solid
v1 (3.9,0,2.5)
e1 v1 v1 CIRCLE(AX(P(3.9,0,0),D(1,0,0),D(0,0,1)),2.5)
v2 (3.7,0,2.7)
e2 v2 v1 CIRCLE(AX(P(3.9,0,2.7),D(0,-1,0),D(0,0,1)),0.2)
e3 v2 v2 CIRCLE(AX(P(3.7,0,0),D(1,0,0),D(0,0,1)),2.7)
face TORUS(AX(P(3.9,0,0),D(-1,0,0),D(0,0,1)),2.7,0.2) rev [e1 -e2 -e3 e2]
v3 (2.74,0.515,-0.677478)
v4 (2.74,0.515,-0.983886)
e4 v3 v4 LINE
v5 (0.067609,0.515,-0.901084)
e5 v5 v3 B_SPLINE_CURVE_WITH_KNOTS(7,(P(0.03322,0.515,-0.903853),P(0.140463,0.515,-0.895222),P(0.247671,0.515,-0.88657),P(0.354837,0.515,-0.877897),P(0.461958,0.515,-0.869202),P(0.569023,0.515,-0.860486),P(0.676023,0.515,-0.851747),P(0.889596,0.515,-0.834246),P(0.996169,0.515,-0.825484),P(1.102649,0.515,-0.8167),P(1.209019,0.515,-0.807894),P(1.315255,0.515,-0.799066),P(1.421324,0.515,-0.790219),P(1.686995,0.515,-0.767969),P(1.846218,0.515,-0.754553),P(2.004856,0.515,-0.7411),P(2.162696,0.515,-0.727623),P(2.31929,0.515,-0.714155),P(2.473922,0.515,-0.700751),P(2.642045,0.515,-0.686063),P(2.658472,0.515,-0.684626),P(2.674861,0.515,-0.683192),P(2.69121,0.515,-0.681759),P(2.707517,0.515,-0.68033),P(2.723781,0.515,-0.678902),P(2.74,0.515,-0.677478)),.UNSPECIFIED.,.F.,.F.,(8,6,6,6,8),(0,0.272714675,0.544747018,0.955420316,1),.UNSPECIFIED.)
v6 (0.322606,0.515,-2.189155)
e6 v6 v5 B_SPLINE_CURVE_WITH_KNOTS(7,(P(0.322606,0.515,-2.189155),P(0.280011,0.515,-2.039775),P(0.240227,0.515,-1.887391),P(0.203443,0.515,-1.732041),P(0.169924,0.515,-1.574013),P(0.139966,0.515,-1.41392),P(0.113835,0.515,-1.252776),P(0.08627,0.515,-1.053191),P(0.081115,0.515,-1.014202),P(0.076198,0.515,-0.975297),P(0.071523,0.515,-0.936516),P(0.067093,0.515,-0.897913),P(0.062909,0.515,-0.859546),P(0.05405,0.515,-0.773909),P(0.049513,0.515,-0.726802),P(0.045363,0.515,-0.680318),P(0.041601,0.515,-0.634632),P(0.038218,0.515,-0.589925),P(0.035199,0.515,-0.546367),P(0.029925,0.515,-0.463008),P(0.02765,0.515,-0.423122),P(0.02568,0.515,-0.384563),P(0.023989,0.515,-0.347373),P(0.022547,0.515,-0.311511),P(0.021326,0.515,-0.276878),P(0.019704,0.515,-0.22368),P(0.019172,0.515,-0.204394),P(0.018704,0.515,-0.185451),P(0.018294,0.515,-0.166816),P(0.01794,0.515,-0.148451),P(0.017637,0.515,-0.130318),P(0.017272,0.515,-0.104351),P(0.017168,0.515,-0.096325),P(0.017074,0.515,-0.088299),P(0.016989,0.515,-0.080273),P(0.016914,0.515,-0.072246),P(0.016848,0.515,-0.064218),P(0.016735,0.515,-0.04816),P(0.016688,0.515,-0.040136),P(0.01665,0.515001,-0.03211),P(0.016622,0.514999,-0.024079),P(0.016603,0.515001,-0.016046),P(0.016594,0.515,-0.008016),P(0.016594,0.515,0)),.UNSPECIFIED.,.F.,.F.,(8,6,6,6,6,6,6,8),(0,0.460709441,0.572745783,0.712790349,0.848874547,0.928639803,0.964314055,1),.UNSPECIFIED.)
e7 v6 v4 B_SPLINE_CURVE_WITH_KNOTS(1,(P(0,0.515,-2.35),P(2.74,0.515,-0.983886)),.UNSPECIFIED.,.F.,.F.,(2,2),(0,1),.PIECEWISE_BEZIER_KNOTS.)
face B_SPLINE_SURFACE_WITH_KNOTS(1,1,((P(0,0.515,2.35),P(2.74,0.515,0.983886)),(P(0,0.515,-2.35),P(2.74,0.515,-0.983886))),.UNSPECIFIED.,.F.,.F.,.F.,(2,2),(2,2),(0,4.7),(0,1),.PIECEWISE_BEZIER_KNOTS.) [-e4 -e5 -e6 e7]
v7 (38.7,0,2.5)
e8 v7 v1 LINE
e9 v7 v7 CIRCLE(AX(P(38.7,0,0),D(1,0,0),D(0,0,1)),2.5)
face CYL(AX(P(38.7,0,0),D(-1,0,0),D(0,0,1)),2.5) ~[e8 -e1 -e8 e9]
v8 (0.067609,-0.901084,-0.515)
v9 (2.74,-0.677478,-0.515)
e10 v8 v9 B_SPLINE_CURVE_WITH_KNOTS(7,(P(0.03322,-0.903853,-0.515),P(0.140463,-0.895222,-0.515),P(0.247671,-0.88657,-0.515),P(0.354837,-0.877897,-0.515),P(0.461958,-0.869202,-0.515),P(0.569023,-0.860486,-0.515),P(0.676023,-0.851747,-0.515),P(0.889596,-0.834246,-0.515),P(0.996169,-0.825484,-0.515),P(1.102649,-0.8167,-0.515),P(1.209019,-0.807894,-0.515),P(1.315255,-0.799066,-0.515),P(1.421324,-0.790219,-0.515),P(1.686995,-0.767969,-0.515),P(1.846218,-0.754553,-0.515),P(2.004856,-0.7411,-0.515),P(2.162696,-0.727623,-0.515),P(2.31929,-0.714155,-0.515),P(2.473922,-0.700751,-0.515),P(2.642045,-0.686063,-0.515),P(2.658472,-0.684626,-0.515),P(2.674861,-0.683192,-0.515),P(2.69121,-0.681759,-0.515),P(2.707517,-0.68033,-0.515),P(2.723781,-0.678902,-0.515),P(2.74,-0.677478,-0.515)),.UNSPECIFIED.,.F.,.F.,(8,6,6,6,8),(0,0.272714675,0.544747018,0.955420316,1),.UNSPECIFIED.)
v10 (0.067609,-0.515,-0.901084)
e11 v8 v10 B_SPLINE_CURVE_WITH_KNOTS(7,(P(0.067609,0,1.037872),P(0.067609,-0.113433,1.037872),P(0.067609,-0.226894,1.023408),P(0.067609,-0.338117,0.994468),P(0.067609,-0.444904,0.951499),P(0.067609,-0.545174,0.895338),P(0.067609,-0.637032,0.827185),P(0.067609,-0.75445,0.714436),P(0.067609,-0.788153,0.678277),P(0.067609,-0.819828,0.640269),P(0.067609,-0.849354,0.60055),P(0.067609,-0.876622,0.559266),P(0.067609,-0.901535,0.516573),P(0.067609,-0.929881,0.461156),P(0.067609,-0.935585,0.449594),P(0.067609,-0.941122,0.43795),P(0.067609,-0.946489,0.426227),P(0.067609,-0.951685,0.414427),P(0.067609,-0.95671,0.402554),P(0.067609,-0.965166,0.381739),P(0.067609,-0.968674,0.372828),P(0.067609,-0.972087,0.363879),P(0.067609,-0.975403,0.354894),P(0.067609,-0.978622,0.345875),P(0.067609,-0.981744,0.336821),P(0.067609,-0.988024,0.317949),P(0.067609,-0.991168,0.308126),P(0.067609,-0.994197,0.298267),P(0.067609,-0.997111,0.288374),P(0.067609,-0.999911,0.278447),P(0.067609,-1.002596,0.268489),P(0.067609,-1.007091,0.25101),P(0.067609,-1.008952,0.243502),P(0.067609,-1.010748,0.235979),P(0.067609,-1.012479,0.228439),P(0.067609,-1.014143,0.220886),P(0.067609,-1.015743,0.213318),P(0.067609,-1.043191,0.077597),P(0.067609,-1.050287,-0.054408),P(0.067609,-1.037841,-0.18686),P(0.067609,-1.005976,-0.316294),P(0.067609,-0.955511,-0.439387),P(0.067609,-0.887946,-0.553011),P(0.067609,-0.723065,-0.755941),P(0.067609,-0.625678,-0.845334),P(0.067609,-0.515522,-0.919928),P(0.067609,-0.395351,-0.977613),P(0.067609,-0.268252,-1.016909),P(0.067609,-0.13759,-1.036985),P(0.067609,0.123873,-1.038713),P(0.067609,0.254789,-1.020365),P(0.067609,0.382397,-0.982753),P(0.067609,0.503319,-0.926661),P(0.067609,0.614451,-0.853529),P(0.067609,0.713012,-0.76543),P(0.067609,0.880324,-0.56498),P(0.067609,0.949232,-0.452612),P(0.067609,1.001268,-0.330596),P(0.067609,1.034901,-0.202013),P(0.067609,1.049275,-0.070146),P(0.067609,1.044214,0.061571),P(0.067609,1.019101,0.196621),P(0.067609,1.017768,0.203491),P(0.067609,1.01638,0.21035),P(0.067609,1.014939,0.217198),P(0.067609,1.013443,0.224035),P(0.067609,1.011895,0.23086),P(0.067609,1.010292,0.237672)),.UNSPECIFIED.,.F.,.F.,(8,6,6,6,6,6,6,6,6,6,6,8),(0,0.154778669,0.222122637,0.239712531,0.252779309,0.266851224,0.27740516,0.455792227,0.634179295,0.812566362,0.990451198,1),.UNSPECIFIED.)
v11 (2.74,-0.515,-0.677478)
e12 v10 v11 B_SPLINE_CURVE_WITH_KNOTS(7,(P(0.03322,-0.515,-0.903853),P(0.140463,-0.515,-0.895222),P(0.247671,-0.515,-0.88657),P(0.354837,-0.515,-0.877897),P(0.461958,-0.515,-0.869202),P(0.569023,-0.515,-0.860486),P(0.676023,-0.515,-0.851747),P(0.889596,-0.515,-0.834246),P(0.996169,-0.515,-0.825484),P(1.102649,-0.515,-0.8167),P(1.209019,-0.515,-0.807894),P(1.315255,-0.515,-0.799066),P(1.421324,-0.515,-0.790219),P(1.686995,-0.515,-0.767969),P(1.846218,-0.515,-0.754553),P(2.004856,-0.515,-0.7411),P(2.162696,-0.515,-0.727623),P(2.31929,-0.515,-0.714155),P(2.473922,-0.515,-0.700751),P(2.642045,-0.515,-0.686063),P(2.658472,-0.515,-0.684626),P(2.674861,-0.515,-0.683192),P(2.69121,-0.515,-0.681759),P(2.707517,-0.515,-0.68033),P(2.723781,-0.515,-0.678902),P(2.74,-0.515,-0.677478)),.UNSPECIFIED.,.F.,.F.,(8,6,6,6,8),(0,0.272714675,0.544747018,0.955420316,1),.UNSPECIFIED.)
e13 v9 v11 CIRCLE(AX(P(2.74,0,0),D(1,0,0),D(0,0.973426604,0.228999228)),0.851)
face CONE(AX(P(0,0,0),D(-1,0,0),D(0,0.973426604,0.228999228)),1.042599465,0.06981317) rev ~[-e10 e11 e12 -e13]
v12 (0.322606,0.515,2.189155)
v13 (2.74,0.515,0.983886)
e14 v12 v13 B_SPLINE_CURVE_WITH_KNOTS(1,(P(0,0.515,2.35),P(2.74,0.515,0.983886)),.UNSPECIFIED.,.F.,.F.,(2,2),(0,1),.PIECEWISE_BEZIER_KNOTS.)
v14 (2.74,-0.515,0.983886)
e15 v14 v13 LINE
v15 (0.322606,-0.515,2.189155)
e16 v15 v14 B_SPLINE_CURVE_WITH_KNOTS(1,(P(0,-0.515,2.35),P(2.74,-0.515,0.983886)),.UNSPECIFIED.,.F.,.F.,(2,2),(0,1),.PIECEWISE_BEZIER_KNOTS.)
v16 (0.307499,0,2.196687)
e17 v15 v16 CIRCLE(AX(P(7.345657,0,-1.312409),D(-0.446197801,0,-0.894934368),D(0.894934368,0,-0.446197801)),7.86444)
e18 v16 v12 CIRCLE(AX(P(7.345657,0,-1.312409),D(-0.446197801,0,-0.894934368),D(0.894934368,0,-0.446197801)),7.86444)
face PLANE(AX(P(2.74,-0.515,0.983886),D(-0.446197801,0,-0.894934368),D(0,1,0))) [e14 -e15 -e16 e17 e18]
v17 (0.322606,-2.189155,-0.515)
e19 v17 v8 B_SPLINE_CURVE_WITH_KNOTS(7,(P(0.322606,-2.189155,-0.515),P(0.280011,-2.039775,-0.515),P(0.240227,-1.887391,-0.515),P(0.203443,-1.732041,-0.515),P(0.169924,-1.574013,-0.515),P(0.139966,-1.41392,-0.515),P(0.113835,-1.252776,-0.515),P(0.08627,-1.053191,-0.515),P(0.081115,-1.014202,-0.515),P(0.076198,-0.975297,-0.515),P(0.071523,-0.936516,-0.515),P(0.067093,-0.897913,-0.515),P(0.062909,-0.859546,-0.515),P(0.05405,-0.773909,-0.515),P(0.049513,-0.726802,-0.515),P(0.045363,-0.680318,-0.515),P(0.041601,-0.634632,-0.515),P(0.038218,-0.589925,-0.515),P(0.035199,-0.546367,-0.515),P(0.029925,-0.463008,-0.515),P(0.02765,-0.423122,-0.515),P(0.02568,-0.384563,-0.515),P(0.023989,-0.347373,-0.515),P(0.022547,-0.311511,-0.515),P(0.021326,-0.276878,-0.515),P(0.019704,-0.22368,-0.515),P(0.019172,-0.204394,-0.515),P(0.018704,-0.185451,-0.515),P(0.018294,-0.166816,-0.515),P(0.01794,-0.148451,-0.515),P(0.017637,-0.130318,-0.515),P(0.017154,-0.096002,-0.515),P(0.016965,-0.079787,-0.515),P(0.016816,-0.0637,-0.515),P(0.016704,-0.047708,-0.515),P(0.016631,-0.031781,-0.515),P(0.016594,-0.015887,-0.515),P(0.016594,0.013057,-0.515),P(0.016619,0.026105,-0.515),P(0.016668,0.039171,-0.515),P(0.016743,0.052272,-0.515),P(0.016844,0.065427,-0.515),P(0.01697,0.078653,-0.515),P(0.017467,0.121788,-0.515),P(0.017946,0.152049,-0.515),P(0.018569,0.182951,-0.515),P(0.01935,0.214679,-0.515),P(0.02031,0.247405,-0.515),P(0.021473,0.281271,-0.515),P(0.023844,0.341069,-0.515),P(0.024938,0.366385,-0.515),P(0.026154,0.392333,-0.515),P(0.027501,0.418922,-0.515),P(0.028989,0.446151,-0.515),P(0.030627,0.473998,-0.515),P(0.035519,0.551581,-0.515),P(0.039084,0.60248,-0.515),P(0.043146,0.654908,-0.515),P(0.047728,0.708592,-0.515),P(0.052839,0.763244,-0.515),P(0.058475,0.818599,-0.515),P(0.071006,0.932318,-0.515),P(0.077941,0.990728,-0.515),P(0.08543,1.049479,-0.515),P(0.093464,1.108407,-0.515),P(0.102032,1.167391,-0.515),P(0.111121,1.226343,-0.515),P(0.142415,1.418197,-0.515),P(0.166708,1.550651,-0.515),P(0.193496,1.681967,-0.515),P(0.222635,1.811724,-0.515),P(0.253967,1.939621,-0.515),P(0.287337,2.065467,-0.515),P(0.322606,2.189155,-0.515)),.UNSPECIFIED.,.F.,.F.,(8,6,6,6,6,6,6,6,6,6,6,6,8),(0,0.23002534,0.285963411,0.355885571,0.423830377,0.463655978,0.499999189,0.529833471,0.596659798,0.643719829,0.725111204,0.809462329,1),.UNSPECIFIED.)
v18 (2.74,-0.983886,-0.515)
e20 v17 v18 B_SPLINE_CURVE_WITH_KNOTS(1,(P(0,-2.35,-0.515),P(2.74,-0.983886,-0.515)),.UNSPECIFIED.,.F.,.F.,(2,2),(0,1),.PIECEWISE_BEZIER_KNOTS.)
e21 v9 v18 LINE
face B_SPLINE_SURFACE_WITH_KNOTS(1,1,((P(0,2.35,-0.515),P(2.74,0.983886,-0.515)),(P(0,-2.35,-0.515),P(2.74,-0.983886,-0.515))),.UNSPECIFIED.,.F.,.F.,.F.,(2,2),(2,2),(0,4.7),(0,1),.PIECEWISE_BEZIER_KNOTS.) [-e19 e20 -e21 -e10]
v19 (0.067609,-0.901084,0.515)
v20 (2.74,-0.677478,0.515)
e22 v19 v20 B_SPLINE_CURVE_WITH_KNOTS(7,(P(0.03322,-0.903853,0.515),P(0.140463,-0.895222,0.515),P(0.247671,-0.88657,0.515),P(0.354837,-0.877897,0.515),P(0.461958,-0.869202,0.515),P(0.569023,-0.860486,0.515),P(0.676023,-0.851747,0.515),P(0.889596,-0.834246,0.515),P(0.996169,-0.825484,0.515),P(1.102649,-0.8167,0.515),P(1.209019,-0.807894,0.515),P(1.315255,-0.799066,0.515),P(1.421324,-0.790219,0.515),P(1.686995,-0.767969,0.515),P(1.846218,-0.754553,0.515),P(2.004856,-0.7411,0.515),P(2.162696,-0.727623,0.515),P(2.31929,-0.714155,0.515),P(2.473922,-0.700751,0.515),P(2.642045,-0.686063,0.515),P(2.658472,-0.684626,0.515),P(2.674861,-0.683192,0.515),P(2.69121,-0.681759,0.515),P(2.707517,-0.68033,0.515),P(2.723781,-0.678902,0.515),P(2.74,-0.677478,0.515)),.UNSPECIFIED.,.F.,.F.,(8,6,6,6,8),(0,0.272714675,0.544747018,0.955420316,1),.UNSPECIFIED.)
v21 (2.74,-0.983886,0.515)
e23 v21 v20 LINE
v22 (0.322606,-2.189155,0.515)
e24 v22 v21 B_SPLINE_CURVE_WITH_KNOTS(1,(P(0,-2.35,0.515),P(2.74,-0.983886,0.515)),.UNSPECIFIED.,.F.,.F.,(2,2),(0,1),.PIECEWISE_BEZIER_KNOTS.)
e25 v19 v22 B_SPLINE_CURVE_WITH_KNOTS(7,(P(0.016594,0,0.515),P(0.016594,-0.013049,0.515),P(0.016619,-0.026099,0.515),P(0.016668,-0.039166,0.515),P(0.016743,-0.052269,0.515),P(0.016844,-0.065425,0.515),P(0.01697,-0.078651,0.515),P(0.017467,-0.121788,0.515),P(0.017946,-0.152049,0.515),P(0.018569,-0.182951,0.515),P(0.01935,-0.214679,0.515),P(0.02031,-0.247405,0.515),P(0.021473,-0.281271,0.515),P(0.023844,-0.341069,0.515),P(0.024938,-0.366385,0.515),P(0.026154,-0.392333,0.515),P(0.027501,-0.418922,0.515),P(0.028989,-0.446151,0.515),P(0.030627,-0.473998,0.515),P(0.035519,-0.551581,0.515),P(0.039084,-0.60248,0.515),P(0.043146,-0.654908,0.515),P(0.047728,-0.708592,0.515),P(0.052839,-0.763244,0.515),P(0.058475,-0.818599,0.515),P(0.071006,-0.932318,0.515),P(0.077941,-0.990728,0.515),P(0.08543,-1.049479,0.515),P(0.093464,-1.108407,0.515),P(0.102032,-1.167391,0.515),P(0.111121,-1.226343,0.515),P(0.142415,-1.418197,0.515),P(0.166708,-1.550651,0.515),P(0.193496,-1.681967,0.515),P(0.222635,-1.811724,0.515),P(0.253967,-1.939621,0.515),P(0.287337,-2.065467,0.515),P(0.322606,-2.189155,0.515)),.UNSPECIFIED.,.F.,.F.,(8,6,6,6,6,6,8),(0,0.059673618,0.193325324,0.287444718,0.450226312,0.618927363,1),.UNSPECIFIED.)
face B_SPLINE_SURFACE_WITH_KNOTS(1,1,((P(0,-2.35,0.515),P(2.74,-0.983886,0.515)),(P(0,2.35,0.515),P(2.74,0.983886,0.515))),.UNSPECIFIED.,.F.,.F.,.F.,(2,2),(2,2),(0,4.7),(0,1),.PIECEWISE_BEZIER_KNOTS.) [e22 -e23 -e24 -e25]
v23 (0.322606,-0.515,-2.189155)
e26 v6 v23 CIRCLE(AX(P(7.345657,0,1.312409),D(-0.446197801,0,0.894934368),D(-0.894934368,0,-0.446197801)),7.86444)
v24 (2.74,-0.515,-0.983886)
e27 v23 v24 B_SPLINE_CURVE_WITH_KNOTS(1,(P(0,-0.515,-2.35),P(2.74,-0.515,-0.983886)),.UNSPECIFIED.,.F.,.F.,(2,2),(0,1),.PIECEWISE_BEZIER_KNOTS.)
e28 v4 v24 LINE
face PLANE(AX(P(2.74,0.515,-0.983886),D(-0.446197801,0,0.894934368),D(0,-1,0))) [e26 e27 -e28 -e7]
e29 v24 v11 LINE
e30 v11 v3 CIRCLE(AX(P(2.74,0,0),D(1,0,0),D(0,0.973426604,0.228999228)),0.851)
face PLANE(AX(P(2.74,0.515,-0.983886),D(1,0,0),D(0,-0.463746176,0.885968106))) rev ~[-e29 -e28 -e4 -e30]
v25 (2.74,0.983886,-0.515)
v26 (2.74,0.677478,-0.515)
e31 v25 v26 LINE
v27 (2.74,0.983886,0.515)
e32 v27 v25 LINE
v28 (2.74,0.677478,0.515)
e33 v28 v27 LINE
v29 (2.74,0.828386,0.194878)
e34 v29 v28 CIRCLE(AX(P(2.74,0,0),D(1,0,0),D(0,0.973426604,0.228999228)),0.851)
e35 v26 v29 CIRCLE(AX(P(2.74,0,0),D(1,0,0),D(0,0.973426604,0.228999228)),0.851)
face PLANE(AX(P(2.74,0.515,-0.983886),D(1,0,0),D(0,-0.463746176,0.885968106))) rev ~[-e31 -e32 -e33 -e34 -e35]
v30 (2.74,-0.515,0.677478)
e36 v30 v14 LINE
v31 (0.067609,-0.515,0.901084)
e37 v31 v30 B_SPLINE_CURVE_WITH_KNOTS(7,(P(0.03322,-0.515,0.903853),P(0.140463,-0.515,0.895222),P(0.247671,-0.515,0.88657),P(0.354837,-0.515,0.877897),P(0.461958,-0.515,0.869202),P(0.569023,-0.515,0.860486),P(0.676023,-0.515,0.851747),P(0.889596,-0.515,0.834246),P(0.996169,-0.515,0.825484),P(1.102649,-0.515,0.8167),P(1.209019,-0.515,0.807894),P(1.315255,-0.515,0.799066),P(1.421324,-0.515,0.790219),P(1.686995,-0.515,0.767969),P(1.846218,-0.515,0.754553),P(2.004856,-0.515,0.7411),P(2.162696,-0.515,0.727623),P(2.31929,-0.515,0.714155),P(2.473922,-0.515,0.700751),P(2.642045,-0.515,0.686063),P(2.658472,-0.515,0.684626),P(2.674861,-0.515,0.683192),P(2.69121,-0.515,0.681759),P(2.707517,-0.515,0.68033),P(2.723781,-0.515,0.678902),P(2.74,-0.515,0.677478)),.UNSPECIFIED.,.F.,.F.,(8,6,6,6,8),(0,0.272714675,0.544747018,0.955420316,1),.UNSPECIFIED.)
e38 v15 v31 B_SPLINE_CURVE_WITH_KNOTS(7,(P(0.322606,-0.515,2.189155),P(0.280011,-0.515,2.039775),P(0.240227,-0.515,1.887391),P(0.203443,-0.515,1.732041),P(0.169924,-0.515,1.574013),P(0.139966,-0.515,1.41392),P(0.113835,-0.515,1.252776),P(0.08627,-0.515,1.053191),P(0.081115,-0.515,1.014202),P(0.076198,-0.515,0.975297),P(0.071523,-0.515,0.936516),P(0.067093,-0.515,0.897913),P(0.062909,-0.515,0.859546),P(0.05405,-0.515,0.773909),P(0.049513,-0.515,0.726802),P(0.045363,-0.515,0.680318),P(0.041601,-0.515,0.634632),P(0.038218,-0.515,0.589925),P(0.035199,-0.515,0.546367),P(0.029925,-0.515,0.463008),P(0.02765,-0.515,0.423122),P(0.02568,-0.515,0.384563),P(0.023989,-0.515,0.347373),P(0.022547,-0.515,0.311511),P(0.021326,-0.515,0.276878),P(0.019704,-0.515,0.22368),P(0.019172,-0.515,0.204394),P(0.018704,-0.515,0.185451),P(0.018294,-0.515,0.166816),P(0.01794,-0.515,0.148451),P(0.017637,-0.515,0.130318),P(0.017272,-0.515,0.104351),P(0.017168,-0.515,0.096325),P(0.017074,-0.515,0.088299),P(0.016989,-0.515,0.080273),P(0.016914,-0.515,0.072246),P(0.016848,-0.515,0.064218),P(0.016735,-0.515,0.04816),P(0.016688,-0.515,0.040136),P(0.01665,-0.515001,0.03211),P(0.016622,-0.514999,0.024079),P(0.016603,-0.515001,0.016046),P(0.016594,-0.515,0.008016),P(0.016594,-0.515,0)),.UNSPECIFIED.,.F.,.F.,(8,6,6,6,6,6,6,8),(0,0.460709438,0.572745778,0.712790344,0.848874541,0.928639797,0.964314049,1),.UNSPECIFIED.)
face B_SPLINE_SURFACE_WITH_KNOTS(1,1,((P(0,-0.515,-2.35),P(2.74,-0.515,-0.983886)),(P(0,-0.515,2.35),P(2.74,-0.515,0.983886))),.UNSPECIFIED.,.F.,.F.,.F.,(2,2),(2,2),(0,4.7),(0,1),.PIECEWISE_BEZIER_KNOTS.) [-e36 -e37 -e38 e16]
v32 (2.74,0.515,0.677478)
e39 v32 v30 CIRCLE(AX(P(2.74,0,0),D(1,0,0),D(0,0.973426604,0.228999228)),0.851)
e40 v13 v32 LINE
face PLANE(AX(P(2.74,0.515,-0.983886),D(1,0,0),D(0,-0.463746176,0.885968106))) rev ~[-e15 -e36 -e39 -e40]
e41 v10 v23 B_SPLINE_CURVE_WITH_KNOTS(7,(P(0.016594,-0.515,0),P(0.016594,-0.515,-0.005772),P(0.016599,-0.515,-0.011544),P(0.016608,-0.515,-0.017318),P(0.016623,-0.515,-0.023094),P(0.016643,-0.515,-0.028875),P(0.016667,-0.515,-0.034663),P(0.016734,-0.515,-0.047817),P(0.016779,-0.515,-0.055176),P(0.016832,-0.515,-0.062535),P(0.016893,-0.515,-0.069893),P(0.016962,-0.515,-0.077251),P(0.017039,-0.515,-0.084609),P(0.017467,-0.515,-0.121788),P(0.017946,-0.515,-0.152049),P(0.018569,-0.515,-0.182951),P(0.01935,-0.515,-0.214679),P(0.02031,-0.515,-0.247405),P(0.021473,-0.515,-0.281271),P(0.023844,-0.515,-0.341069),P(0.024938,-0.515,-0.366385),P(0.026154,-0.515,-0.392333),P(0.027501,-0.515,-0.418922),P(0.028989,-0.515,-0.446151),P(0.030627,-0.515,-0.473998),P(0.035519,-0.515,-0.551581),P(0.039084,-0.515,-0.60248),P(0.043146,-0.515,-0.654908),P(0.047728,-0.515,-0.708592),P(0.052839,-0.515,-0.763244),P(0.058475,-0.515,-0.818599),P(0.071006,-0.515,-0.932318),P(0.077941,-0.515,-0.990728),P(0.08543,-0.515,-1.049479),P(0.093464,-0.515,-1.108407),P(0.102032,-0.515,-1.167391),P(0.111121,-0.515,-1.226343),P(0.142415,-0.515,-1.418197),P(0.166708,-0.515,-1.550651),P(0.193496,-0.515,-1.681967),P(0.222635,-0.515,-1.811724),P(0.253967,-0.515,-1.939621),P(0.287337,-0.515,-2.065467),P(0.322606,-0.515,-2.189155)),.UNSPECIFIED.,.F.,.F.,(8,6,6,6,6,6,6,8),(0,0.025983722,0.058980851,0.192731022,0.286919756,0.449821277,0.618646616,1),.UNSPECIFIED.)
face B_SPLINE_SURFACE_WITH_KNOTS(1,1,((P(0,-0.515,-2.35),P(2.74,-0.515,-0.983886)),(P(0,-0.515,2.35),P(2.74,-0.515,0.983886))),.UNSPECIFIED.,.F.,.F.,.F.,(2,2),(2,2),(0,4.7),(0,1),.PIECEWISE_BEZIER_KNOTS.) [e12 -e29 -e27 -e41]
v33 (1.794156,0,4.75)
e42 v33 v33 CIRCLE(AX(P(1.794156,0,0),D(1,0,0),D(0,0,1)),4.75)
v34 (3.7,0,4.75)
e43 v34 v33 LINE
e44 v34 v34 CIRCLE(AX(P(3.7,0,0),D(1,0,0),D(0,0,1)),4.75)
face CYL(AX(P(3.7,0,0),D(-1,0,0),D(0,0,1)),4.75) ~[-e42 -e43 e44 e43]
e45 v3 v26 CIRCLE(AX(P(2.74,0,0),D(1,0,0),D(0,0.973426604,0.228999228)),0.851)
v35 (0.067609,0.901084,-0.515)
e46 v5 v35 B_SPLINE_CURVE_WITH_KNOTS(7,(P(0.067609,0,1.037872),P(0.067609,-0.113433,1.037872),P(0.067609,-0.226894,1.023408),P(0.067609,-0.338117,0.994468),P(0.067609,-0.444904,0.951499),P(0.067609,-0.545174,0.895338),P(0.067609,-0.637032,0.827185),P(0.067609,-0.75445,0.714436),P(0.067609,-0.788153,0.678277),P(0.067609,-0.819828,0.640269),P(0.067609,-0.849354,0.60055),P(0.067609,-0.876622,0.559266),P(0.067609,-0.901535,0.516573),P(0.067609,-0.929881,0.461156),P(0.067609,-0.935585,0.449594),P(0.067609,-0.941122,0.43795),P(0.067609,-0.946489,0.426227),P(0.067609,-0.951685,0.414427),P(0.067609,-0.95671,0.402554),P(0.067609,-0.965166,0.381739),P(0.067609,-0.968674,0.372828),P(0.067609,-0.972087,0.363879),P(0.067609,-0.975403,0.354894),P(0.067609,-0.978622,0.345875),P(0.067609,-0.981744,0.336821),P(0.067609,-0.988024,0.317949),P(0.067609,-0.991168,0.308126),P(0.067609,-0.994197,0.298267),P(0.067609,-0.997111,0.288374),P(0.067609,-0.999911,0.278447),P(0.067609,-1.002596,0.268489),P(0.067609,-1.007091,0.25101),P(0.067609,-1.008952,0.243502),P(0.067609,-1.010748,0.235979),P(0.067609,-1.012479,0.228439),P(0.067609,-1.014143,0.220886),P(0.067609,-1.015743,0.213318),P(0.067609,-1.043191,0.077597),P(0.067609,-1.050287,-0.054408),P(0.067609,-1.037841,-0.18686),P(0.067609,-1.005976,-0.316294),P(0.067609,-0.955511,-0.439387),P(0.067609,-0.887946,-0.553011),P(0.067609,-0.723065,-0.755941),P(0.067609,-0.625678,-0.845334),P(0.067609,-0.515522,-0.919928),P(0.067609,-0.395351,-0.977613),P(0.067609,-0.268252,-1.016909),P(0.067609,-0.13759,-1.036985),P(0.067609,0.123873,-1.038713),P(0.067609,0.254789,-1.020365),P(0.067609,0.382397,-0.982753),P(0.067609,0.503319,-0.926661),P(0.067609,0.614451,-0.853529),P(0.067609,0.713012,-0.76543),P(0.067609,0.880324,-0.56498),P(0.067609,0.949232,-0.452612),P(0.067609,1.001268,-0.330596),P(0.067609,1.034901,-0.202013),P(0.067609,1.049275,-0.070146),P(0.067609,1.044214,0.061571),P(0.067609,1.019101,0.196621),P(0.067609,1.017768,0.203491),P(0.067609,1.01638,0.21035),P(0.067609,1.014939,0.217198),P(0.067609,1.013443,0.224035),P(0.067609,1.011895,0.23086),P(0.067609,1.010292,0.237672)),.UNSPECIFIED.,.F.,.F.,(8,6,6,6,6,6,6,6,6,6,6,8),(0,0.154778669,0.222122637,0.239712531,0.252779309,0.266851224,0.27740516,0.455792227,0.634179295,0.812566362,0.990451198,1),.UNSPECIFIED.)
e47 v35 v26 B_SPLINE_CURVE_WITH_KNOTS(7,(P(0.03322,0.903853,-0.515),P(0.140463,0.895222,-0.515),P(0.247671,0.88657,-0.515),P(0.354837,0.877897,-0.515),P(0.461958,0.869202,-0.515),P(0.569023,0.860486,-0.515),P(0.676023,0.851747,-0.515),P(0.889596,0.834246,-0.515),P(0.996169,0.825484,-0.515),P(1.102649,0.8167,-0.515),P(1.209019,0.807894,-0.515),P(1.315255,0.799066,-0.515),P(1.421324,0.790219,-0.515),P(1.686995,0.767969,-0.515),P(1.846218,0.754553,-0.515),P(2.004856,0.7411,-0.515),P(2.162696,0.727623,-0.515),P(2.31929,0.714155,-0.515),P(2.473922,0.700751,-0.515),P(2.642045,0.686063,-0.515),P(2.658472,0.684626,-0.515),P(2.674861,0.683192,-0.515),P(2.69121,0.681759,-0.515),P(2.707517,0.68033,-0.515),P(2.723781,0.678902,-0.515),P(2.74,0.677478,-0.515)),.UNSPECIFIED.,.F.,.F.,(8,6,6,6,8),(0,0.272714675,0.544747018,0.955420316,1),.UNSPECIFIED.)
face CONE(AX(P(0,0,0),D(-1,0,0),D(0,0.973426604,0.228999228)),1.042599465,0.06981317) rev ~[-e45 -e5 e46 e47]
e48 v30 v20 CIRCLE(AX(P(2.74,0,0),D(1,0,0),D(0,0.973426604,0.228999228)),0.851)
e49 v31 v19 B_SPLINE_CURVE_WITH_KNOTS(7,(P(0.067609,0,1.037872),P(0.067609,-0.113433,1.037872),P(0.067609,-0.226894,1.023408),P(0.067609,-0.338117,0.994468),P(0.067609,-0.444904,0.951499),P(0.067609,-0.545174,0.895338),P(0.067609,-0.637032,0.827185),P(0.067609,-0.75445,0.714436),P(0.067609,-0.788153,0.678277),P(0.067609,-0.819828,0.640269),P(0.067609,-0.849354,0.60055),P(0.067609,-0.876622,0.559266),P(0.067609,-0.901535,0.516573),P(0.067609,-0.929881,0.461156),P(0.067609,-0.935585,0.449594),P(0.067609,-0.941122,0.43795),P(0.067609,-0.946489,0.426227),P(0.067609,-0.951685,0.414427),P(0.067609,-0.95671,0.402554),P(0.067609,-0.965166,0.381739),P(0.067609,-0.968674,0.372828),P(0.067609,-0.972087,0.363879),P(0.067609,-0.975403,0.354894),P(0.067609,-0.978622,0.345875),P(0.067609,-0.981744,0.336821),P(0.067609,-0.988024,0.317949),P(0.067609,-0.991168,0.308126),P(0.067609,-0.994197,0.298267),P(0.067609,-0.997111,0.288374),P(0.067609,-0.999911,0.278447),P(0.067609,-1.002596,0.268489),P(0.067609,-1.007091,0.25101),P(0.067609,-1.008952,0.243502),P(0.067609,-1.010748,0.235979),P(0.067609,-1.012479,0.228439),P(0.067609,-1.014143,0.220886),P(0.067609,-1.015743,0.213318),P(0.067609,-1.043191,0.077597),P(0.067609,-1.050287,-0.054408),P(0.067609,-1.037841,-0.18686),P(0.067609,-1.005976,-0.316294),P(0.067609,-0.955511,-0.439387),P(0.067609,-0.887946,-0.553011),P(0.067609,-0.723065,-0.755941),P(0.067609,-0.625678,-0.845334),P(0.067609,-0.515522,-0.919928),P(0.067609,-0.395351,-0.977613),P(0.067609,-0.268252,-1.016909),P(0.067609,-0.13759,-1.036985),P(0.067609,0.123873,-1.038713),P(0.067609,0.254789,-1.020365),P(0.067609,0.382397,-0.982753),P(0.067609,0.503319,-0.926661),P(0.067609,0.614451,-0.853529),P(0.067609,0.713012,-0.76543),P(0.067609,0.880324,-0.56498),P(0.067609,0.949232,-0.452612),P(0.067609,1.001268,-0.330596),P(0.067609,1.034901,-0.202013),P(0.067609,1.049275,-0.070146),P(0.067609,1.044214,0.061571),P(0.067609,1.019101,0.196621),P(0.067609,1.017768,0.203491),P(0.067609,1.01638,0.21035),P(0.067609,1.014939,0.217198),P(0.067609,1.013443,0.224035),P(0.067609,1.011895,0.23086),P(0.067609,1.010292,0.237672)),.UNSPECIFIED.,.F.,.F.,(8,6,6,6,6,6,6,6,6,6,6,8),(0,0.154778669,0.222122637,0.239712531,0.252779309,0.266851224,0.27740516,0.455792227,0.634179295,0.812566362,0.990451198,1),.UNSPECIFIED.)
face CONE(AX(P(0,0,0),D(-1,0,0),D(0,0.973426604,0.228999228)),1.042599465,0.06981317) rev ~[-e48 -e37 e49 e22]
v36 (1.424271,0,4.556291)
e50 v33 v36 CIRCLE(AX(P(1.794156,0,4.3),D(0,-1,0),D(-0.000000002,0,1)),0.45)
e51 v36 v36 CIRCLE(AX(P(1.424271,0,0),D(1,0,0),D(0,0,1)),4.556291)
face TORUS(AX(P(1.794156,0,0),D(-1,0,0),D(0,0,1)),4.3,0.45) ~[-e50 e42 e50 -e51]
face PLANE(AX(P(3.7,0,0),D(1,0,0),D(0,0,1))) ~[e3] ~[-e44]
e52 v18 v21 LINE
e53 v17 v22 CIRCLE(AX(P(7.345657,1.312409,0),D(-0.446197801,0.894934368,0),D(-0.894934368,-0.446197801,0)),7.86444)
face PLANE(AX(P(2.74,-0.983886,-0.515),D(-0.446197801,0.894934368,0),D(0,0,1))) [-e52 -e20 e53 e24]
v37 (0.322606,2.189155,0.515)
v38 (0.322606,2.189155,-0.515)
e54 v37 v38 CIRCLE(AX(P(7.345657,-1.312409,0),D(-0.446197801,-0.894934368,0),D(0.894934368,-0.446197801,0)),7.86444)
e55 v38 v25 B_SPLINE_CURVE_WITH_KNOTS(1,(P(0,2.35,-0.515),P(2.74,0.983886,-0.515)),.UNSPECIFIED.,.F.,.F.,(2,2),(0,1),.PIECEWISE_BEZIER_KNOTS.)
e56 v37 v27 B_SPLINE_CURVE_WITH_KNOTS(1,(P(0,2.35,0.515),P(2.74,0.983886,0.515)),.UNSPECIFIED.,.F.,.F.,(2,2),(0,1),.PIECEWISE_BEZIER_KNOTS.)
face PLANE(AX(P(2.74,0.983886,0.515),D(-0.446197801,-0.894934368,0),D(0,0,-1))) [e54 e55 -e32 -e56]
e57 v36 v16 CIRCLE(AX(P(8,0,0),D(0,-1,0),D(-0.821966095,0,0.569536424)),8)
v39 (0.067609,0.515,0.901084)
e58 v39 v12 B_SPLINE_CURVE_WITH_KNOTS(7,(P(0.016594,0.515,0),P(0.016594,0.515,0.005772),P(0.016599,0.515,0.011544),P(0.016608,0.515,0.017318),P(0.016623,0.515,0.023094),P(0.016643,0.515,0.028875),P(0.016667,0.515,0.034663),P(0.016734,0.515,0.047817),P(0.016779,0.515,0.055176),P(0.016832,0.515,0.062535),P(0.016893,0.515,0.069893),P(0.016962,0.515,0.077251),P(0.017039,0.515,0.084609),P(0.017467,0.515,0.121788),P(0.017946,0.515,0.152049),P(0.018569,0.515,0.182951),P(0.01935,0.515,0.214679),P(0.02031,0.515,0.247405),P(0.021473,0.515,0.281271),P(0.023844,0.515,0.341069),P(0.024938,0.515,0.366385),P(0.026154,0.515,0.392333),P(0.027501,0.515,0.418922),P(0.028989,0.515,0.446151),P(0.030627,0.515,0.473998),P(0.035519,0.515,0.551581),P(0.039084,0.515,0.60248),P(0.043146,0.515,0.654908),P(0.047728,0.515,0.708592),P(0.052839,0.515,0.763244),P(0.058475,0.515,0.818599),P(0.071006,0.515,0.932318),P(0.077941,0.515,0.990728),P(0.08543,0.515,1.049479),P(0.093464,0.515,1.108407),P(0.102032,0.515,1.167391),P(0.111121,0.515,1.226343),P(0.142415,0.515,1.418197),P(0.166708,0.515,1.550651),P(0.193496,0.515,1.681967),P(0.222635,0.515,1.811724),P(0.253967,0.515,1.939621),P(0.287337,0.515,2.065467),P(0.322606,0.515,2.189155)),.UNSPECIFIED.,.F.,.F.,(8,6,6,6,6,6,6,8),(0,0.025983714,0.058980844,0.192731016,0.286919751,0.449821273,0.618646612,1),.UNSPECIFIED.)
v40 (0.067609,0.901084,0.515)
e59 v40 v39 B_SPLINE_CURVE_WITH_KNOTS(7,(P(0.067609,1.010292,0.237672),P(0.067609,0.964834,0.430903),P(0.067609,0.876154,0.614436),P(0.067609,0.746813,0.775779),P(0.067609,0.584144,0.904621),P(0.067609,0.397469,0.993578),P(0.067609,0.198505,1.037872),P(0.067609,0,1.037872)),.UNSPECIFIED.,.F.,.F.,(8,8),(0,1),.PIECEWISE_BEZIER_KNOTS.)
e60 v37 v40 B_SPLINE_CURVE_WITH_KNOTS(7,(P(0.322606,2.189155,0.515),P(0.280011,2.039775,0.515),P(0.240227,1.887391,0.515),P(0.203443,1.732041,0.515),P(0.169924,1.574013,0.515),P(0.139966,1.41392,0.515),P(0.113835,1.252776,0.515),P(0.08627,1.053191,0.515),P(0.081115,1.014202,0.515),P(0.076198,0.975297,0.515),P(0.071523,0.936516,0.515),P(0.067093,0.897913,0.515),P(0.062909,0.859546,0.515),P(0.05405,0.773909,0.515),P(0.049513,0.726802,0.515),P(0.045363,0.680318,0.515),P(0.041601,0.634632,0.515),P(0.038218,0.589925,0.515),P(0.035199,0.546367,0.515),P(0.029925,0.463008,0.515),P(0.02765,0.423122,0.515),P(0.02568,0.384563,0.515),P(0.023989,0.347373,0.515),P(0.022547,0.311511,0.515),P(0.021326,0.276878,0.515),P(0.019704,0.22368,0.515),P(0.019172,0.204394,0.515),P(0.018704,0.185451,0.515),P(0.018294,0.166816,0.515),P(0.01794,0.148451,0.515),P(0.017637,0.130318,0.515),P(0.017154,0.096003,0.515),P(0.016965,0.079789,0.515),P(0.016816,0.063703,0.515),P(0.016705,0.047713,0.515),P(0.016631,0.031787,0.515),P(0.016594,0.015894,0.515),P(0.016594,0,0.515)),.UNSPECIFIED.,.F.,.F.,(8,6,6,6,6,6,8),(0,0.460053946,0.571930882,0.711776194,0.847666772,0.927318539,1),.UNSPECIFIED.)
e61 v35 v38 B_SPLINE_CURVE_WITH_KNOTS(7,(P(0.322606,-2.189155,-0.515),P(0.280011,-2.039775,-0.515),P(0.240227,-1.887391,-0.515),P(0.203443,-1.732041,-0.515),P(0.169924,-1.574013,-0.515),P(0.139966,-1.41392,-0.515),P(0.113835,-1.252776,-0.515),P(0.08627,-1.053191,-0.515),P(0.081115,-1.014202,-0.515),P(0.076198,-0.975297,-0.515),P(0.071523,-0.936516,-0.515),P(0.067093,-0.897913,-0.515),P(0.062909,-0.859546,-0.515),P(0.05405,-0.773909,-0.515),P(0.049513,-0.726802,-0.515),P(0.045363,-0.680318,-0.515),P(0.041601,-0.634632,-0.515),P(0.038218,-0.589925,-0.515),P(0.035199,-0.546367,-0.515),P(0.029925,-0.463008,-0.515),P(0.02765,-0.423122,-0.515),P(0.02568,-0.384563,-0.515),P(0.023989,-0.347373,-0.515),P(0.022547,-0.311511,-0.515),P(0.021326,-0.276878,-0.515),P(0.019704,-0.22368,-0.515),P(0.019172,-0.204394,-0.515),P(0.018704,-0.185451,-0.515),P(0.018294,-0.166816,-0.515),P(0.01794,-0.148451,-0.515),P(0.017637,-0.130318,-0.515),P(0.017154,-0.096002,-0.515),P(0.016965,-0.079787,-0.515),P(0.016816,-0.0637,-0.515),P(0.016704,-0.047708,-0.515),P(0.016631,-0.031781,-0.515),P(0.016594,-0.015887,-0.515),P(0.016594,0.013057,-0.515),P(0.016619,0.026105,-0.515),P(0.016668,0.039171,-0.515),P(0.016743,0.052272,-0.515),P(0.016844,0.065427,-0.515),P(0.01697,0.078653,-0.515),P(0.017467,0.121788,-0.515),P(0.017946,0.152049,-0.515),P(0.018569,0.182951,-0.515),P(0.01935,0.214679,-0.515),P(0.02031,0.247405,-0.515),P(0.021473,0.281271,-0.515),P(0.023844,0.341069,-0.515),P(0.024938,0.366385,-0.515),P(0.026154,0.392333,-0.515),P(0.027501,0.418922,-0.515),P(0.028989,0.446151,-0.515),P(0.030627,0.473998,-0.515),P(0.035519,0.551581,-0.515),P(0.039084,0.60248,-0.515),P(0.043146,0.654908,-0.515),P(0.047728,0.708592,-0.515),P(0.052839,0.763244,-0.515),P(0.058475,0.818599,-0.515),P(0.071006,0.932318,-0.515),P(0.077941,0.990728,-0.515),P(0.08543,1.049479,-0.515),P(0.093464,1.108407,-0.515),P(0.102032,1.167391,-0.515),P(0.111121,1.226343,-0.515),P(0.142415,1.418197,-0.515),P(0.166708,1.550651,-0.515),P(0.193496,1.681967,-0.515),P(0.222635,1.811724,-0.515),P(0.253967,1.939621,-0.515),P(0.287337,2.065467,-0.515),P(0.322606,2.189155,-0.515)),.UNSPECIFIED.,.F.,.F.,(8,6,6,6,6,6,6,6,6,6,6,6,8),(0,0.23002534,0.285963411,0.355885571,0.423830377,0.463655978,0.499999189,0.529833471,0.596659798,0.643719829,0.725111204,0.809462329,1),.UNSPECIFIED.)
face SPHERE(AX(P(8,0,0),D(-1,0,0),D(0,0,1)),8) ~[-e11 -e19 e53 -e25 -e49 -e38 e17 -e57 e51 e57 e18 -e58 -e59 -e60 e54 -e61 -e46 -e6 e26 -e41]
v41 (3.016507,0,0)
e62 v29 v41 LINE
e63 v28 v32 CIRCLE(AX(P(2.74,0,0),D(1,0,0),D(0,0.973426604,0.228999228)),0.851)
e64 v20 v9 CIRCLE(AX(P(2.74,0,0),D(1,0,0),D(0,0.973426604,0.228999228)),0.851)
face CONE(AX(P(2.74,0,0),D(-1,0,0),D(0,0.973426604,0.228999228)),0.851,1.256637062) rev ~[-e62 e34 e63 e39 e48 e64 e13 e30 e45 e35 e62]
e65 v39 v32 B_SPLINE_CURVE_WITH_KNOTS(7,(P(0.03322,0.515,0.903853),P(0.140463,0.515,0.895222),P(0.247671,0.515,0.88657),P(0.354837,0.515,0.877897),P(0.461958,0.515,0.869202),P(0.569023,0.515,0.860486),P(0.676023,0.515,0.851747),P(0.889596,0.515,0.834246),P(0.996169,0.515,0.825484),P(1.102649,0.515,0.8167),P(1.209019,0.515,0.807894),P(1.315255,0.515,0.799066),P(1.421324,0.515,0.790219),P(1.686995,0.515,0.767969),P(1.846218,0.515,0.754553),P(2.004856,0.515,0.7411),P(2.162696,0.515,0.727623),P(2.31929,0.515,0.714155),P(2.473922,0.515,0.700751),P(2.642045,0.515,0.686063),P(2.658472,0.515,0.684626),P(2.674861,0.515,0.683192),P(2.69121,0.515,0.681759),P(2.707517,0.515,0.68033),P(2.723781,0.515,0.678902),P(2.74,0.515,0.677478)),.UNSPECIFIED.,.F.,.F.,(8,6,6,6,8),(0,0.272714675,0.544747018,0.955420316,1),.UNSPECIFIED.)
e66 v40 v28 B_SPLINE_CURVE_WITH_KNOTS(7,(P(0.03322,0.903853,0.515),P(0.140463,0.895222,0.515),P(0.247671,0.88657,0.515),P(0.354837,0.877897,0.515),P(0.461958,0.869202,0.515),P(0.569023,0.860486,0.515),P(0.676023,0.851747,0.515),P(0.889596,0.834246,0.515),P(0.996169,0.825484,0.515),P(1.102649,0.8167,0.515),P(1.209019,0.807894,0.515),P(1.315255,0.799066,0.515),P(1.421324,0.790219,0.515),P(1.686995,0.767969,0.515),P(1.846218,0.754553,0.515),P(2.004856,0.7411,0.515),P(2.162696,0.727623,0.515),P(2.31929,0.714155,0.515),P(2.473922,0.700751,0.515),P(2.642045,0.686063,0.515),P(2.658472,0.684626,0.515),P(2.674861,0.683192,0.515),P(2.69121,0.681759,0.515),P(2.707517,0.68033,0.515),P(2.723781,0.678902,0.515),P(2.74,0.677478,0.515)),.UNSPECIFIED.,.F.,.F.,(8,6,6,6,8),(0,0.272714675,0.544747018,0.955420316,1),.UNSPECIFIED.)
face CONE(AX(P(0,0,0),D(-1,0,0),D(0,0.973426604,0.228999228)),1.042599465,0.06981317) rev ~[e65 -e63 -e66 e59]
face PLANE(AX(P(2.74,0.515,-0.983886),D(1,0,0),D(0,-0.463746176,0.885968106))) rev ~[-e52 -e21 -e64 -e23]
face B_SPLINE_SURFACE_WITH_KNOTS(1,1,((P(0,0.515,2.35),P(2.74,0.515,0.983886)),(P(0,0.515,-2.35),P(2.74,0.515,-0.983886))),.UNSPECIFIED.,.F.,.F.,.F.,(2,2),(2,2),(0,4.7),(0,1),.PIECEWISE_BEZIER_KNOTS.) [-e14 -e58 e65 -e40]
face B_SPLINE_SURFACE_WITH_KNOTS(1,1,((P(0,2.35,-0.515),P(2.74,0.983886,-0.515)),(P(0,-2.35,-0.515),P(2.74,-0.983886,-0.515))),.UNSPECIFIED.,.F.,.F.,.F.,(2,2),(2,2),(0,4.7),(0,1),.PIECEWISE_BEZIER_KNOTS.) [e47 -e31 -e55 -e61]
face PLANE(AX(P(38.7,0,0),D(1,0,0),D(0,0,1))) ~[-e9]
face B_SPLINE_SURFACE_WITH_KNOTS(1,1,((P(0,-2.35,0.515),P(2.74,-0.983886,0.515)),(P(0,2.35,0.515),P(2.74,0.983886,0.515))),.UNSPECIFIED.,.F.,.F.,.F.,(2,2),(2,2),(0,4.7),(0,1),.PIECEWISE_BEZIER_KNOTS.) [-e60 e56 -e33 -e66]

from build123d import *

# Parameters (mm, degrees)
FILLET1_R    = 0.2
RECPAT_COUNT = 2
RECPAT_ANGLE = 90


with BuildPart() as part:
    # BodySke → Base-Revolve (revolve)
    with BuildSketch(Plane.XY, mode=Mode.PRIVATE) as base_revolve_sk:
        with BuildLine():
            Line((3.7, 2.5), (3.7, 4.75))
            Line((3.7, 4.75), (1.79415598, 4.75))
            ThreePointArc((1.79415598, 4.75), (1.58538712, 4.698642149), (1.424271237, 4.556291391))
            ThreePointArc((1.424271237, 4.556291391), (0.364365445, 2.386856709), (0, 0))
            Line((0, 0), (38.7, 0))
            Line((38.7, 0), (38.7, 2.5))
            Line((38.7, 2.5), (3.7, 2.5))
        make_face()
    revolve(base_revolve_sk.sketch.rotate(Axis((1.79415598, 0, 0), (1, 0, 0)), 90), axis=Axis((1.79415598, 0, 0), (1, 0, 0)))

    # Fillet1
    fillet1_edges = [part.edges().sort_by_distance(p)[0] for p in [
        (3.7, 0, -2.5),
    ]]
    fillet(fillet1_edges, radius=FILLET1_R)

    # Sketch3 → Recess section 0
    with BuildSketch(Plane(origin=(0, 0, 0), x_dir=(0, 0, -1), z_dir=(1, 0, 0))):
        with BuildLine():
            Line((0.515, -2.35), (-0.515, -2.35))
            Line((-0.515, -2.35), (-0.515, 2.35))
            Line((-0.515, 2.35), (0.515, 2.35))
            Line((0.515, 2.35), (0.515, -2.35))
        make_face()
    # Sketch4 → Recess section 1
    with BuildSketch(Plane(origin=(2.74, 0, 0), x_dir=(0, 0, -1), z_dir=(1, 0, 0))):
        with BuildLine():
            Line((0.515, -0.983886441), (-0.515, -0.983886441))
            Line((-0.515, -0.983886441), (-0.515, 0.983886441))
            Line((-0.515, 0.983886441), (0.515, 0.983886441))
            Line((0.515, 0.983886441), (0.515, -0.983886441))
        make_face()
    recess = loft(mode=Mode.SUBTRACT)

    # RecPat: Recess ×2 about axis
    recpat_axis = Axis((0, 0, 0), (1, 0, 0))
    for i in range(1, RECPAT_COUNT):
        add(recess.rotate(recpat_axis, i * RECPAT_ANGLE / (RECPAT_COUNT - 1)), mode=Mode.SUBTRACT)

    # RecCorSke → RecessCore (revolve, cut)
    with BuildSketch(Plane.XY, mode=Mode.PRIVATE) as recesscore_sk:
        Polygon((0, 0), (0, 1.042599465), (2.74, 0.851), (3.016506661, 0), align=None)
    revolve(recesscore_sk.sketch.rotate(Axis((-3.175, 0, 0), (1, 0, 0)), 13.238159286), axis=Axis((-3.175, 0, 0), (1, 0, 0)), mode=Mode.SUBTRACT)


solid = part.part
